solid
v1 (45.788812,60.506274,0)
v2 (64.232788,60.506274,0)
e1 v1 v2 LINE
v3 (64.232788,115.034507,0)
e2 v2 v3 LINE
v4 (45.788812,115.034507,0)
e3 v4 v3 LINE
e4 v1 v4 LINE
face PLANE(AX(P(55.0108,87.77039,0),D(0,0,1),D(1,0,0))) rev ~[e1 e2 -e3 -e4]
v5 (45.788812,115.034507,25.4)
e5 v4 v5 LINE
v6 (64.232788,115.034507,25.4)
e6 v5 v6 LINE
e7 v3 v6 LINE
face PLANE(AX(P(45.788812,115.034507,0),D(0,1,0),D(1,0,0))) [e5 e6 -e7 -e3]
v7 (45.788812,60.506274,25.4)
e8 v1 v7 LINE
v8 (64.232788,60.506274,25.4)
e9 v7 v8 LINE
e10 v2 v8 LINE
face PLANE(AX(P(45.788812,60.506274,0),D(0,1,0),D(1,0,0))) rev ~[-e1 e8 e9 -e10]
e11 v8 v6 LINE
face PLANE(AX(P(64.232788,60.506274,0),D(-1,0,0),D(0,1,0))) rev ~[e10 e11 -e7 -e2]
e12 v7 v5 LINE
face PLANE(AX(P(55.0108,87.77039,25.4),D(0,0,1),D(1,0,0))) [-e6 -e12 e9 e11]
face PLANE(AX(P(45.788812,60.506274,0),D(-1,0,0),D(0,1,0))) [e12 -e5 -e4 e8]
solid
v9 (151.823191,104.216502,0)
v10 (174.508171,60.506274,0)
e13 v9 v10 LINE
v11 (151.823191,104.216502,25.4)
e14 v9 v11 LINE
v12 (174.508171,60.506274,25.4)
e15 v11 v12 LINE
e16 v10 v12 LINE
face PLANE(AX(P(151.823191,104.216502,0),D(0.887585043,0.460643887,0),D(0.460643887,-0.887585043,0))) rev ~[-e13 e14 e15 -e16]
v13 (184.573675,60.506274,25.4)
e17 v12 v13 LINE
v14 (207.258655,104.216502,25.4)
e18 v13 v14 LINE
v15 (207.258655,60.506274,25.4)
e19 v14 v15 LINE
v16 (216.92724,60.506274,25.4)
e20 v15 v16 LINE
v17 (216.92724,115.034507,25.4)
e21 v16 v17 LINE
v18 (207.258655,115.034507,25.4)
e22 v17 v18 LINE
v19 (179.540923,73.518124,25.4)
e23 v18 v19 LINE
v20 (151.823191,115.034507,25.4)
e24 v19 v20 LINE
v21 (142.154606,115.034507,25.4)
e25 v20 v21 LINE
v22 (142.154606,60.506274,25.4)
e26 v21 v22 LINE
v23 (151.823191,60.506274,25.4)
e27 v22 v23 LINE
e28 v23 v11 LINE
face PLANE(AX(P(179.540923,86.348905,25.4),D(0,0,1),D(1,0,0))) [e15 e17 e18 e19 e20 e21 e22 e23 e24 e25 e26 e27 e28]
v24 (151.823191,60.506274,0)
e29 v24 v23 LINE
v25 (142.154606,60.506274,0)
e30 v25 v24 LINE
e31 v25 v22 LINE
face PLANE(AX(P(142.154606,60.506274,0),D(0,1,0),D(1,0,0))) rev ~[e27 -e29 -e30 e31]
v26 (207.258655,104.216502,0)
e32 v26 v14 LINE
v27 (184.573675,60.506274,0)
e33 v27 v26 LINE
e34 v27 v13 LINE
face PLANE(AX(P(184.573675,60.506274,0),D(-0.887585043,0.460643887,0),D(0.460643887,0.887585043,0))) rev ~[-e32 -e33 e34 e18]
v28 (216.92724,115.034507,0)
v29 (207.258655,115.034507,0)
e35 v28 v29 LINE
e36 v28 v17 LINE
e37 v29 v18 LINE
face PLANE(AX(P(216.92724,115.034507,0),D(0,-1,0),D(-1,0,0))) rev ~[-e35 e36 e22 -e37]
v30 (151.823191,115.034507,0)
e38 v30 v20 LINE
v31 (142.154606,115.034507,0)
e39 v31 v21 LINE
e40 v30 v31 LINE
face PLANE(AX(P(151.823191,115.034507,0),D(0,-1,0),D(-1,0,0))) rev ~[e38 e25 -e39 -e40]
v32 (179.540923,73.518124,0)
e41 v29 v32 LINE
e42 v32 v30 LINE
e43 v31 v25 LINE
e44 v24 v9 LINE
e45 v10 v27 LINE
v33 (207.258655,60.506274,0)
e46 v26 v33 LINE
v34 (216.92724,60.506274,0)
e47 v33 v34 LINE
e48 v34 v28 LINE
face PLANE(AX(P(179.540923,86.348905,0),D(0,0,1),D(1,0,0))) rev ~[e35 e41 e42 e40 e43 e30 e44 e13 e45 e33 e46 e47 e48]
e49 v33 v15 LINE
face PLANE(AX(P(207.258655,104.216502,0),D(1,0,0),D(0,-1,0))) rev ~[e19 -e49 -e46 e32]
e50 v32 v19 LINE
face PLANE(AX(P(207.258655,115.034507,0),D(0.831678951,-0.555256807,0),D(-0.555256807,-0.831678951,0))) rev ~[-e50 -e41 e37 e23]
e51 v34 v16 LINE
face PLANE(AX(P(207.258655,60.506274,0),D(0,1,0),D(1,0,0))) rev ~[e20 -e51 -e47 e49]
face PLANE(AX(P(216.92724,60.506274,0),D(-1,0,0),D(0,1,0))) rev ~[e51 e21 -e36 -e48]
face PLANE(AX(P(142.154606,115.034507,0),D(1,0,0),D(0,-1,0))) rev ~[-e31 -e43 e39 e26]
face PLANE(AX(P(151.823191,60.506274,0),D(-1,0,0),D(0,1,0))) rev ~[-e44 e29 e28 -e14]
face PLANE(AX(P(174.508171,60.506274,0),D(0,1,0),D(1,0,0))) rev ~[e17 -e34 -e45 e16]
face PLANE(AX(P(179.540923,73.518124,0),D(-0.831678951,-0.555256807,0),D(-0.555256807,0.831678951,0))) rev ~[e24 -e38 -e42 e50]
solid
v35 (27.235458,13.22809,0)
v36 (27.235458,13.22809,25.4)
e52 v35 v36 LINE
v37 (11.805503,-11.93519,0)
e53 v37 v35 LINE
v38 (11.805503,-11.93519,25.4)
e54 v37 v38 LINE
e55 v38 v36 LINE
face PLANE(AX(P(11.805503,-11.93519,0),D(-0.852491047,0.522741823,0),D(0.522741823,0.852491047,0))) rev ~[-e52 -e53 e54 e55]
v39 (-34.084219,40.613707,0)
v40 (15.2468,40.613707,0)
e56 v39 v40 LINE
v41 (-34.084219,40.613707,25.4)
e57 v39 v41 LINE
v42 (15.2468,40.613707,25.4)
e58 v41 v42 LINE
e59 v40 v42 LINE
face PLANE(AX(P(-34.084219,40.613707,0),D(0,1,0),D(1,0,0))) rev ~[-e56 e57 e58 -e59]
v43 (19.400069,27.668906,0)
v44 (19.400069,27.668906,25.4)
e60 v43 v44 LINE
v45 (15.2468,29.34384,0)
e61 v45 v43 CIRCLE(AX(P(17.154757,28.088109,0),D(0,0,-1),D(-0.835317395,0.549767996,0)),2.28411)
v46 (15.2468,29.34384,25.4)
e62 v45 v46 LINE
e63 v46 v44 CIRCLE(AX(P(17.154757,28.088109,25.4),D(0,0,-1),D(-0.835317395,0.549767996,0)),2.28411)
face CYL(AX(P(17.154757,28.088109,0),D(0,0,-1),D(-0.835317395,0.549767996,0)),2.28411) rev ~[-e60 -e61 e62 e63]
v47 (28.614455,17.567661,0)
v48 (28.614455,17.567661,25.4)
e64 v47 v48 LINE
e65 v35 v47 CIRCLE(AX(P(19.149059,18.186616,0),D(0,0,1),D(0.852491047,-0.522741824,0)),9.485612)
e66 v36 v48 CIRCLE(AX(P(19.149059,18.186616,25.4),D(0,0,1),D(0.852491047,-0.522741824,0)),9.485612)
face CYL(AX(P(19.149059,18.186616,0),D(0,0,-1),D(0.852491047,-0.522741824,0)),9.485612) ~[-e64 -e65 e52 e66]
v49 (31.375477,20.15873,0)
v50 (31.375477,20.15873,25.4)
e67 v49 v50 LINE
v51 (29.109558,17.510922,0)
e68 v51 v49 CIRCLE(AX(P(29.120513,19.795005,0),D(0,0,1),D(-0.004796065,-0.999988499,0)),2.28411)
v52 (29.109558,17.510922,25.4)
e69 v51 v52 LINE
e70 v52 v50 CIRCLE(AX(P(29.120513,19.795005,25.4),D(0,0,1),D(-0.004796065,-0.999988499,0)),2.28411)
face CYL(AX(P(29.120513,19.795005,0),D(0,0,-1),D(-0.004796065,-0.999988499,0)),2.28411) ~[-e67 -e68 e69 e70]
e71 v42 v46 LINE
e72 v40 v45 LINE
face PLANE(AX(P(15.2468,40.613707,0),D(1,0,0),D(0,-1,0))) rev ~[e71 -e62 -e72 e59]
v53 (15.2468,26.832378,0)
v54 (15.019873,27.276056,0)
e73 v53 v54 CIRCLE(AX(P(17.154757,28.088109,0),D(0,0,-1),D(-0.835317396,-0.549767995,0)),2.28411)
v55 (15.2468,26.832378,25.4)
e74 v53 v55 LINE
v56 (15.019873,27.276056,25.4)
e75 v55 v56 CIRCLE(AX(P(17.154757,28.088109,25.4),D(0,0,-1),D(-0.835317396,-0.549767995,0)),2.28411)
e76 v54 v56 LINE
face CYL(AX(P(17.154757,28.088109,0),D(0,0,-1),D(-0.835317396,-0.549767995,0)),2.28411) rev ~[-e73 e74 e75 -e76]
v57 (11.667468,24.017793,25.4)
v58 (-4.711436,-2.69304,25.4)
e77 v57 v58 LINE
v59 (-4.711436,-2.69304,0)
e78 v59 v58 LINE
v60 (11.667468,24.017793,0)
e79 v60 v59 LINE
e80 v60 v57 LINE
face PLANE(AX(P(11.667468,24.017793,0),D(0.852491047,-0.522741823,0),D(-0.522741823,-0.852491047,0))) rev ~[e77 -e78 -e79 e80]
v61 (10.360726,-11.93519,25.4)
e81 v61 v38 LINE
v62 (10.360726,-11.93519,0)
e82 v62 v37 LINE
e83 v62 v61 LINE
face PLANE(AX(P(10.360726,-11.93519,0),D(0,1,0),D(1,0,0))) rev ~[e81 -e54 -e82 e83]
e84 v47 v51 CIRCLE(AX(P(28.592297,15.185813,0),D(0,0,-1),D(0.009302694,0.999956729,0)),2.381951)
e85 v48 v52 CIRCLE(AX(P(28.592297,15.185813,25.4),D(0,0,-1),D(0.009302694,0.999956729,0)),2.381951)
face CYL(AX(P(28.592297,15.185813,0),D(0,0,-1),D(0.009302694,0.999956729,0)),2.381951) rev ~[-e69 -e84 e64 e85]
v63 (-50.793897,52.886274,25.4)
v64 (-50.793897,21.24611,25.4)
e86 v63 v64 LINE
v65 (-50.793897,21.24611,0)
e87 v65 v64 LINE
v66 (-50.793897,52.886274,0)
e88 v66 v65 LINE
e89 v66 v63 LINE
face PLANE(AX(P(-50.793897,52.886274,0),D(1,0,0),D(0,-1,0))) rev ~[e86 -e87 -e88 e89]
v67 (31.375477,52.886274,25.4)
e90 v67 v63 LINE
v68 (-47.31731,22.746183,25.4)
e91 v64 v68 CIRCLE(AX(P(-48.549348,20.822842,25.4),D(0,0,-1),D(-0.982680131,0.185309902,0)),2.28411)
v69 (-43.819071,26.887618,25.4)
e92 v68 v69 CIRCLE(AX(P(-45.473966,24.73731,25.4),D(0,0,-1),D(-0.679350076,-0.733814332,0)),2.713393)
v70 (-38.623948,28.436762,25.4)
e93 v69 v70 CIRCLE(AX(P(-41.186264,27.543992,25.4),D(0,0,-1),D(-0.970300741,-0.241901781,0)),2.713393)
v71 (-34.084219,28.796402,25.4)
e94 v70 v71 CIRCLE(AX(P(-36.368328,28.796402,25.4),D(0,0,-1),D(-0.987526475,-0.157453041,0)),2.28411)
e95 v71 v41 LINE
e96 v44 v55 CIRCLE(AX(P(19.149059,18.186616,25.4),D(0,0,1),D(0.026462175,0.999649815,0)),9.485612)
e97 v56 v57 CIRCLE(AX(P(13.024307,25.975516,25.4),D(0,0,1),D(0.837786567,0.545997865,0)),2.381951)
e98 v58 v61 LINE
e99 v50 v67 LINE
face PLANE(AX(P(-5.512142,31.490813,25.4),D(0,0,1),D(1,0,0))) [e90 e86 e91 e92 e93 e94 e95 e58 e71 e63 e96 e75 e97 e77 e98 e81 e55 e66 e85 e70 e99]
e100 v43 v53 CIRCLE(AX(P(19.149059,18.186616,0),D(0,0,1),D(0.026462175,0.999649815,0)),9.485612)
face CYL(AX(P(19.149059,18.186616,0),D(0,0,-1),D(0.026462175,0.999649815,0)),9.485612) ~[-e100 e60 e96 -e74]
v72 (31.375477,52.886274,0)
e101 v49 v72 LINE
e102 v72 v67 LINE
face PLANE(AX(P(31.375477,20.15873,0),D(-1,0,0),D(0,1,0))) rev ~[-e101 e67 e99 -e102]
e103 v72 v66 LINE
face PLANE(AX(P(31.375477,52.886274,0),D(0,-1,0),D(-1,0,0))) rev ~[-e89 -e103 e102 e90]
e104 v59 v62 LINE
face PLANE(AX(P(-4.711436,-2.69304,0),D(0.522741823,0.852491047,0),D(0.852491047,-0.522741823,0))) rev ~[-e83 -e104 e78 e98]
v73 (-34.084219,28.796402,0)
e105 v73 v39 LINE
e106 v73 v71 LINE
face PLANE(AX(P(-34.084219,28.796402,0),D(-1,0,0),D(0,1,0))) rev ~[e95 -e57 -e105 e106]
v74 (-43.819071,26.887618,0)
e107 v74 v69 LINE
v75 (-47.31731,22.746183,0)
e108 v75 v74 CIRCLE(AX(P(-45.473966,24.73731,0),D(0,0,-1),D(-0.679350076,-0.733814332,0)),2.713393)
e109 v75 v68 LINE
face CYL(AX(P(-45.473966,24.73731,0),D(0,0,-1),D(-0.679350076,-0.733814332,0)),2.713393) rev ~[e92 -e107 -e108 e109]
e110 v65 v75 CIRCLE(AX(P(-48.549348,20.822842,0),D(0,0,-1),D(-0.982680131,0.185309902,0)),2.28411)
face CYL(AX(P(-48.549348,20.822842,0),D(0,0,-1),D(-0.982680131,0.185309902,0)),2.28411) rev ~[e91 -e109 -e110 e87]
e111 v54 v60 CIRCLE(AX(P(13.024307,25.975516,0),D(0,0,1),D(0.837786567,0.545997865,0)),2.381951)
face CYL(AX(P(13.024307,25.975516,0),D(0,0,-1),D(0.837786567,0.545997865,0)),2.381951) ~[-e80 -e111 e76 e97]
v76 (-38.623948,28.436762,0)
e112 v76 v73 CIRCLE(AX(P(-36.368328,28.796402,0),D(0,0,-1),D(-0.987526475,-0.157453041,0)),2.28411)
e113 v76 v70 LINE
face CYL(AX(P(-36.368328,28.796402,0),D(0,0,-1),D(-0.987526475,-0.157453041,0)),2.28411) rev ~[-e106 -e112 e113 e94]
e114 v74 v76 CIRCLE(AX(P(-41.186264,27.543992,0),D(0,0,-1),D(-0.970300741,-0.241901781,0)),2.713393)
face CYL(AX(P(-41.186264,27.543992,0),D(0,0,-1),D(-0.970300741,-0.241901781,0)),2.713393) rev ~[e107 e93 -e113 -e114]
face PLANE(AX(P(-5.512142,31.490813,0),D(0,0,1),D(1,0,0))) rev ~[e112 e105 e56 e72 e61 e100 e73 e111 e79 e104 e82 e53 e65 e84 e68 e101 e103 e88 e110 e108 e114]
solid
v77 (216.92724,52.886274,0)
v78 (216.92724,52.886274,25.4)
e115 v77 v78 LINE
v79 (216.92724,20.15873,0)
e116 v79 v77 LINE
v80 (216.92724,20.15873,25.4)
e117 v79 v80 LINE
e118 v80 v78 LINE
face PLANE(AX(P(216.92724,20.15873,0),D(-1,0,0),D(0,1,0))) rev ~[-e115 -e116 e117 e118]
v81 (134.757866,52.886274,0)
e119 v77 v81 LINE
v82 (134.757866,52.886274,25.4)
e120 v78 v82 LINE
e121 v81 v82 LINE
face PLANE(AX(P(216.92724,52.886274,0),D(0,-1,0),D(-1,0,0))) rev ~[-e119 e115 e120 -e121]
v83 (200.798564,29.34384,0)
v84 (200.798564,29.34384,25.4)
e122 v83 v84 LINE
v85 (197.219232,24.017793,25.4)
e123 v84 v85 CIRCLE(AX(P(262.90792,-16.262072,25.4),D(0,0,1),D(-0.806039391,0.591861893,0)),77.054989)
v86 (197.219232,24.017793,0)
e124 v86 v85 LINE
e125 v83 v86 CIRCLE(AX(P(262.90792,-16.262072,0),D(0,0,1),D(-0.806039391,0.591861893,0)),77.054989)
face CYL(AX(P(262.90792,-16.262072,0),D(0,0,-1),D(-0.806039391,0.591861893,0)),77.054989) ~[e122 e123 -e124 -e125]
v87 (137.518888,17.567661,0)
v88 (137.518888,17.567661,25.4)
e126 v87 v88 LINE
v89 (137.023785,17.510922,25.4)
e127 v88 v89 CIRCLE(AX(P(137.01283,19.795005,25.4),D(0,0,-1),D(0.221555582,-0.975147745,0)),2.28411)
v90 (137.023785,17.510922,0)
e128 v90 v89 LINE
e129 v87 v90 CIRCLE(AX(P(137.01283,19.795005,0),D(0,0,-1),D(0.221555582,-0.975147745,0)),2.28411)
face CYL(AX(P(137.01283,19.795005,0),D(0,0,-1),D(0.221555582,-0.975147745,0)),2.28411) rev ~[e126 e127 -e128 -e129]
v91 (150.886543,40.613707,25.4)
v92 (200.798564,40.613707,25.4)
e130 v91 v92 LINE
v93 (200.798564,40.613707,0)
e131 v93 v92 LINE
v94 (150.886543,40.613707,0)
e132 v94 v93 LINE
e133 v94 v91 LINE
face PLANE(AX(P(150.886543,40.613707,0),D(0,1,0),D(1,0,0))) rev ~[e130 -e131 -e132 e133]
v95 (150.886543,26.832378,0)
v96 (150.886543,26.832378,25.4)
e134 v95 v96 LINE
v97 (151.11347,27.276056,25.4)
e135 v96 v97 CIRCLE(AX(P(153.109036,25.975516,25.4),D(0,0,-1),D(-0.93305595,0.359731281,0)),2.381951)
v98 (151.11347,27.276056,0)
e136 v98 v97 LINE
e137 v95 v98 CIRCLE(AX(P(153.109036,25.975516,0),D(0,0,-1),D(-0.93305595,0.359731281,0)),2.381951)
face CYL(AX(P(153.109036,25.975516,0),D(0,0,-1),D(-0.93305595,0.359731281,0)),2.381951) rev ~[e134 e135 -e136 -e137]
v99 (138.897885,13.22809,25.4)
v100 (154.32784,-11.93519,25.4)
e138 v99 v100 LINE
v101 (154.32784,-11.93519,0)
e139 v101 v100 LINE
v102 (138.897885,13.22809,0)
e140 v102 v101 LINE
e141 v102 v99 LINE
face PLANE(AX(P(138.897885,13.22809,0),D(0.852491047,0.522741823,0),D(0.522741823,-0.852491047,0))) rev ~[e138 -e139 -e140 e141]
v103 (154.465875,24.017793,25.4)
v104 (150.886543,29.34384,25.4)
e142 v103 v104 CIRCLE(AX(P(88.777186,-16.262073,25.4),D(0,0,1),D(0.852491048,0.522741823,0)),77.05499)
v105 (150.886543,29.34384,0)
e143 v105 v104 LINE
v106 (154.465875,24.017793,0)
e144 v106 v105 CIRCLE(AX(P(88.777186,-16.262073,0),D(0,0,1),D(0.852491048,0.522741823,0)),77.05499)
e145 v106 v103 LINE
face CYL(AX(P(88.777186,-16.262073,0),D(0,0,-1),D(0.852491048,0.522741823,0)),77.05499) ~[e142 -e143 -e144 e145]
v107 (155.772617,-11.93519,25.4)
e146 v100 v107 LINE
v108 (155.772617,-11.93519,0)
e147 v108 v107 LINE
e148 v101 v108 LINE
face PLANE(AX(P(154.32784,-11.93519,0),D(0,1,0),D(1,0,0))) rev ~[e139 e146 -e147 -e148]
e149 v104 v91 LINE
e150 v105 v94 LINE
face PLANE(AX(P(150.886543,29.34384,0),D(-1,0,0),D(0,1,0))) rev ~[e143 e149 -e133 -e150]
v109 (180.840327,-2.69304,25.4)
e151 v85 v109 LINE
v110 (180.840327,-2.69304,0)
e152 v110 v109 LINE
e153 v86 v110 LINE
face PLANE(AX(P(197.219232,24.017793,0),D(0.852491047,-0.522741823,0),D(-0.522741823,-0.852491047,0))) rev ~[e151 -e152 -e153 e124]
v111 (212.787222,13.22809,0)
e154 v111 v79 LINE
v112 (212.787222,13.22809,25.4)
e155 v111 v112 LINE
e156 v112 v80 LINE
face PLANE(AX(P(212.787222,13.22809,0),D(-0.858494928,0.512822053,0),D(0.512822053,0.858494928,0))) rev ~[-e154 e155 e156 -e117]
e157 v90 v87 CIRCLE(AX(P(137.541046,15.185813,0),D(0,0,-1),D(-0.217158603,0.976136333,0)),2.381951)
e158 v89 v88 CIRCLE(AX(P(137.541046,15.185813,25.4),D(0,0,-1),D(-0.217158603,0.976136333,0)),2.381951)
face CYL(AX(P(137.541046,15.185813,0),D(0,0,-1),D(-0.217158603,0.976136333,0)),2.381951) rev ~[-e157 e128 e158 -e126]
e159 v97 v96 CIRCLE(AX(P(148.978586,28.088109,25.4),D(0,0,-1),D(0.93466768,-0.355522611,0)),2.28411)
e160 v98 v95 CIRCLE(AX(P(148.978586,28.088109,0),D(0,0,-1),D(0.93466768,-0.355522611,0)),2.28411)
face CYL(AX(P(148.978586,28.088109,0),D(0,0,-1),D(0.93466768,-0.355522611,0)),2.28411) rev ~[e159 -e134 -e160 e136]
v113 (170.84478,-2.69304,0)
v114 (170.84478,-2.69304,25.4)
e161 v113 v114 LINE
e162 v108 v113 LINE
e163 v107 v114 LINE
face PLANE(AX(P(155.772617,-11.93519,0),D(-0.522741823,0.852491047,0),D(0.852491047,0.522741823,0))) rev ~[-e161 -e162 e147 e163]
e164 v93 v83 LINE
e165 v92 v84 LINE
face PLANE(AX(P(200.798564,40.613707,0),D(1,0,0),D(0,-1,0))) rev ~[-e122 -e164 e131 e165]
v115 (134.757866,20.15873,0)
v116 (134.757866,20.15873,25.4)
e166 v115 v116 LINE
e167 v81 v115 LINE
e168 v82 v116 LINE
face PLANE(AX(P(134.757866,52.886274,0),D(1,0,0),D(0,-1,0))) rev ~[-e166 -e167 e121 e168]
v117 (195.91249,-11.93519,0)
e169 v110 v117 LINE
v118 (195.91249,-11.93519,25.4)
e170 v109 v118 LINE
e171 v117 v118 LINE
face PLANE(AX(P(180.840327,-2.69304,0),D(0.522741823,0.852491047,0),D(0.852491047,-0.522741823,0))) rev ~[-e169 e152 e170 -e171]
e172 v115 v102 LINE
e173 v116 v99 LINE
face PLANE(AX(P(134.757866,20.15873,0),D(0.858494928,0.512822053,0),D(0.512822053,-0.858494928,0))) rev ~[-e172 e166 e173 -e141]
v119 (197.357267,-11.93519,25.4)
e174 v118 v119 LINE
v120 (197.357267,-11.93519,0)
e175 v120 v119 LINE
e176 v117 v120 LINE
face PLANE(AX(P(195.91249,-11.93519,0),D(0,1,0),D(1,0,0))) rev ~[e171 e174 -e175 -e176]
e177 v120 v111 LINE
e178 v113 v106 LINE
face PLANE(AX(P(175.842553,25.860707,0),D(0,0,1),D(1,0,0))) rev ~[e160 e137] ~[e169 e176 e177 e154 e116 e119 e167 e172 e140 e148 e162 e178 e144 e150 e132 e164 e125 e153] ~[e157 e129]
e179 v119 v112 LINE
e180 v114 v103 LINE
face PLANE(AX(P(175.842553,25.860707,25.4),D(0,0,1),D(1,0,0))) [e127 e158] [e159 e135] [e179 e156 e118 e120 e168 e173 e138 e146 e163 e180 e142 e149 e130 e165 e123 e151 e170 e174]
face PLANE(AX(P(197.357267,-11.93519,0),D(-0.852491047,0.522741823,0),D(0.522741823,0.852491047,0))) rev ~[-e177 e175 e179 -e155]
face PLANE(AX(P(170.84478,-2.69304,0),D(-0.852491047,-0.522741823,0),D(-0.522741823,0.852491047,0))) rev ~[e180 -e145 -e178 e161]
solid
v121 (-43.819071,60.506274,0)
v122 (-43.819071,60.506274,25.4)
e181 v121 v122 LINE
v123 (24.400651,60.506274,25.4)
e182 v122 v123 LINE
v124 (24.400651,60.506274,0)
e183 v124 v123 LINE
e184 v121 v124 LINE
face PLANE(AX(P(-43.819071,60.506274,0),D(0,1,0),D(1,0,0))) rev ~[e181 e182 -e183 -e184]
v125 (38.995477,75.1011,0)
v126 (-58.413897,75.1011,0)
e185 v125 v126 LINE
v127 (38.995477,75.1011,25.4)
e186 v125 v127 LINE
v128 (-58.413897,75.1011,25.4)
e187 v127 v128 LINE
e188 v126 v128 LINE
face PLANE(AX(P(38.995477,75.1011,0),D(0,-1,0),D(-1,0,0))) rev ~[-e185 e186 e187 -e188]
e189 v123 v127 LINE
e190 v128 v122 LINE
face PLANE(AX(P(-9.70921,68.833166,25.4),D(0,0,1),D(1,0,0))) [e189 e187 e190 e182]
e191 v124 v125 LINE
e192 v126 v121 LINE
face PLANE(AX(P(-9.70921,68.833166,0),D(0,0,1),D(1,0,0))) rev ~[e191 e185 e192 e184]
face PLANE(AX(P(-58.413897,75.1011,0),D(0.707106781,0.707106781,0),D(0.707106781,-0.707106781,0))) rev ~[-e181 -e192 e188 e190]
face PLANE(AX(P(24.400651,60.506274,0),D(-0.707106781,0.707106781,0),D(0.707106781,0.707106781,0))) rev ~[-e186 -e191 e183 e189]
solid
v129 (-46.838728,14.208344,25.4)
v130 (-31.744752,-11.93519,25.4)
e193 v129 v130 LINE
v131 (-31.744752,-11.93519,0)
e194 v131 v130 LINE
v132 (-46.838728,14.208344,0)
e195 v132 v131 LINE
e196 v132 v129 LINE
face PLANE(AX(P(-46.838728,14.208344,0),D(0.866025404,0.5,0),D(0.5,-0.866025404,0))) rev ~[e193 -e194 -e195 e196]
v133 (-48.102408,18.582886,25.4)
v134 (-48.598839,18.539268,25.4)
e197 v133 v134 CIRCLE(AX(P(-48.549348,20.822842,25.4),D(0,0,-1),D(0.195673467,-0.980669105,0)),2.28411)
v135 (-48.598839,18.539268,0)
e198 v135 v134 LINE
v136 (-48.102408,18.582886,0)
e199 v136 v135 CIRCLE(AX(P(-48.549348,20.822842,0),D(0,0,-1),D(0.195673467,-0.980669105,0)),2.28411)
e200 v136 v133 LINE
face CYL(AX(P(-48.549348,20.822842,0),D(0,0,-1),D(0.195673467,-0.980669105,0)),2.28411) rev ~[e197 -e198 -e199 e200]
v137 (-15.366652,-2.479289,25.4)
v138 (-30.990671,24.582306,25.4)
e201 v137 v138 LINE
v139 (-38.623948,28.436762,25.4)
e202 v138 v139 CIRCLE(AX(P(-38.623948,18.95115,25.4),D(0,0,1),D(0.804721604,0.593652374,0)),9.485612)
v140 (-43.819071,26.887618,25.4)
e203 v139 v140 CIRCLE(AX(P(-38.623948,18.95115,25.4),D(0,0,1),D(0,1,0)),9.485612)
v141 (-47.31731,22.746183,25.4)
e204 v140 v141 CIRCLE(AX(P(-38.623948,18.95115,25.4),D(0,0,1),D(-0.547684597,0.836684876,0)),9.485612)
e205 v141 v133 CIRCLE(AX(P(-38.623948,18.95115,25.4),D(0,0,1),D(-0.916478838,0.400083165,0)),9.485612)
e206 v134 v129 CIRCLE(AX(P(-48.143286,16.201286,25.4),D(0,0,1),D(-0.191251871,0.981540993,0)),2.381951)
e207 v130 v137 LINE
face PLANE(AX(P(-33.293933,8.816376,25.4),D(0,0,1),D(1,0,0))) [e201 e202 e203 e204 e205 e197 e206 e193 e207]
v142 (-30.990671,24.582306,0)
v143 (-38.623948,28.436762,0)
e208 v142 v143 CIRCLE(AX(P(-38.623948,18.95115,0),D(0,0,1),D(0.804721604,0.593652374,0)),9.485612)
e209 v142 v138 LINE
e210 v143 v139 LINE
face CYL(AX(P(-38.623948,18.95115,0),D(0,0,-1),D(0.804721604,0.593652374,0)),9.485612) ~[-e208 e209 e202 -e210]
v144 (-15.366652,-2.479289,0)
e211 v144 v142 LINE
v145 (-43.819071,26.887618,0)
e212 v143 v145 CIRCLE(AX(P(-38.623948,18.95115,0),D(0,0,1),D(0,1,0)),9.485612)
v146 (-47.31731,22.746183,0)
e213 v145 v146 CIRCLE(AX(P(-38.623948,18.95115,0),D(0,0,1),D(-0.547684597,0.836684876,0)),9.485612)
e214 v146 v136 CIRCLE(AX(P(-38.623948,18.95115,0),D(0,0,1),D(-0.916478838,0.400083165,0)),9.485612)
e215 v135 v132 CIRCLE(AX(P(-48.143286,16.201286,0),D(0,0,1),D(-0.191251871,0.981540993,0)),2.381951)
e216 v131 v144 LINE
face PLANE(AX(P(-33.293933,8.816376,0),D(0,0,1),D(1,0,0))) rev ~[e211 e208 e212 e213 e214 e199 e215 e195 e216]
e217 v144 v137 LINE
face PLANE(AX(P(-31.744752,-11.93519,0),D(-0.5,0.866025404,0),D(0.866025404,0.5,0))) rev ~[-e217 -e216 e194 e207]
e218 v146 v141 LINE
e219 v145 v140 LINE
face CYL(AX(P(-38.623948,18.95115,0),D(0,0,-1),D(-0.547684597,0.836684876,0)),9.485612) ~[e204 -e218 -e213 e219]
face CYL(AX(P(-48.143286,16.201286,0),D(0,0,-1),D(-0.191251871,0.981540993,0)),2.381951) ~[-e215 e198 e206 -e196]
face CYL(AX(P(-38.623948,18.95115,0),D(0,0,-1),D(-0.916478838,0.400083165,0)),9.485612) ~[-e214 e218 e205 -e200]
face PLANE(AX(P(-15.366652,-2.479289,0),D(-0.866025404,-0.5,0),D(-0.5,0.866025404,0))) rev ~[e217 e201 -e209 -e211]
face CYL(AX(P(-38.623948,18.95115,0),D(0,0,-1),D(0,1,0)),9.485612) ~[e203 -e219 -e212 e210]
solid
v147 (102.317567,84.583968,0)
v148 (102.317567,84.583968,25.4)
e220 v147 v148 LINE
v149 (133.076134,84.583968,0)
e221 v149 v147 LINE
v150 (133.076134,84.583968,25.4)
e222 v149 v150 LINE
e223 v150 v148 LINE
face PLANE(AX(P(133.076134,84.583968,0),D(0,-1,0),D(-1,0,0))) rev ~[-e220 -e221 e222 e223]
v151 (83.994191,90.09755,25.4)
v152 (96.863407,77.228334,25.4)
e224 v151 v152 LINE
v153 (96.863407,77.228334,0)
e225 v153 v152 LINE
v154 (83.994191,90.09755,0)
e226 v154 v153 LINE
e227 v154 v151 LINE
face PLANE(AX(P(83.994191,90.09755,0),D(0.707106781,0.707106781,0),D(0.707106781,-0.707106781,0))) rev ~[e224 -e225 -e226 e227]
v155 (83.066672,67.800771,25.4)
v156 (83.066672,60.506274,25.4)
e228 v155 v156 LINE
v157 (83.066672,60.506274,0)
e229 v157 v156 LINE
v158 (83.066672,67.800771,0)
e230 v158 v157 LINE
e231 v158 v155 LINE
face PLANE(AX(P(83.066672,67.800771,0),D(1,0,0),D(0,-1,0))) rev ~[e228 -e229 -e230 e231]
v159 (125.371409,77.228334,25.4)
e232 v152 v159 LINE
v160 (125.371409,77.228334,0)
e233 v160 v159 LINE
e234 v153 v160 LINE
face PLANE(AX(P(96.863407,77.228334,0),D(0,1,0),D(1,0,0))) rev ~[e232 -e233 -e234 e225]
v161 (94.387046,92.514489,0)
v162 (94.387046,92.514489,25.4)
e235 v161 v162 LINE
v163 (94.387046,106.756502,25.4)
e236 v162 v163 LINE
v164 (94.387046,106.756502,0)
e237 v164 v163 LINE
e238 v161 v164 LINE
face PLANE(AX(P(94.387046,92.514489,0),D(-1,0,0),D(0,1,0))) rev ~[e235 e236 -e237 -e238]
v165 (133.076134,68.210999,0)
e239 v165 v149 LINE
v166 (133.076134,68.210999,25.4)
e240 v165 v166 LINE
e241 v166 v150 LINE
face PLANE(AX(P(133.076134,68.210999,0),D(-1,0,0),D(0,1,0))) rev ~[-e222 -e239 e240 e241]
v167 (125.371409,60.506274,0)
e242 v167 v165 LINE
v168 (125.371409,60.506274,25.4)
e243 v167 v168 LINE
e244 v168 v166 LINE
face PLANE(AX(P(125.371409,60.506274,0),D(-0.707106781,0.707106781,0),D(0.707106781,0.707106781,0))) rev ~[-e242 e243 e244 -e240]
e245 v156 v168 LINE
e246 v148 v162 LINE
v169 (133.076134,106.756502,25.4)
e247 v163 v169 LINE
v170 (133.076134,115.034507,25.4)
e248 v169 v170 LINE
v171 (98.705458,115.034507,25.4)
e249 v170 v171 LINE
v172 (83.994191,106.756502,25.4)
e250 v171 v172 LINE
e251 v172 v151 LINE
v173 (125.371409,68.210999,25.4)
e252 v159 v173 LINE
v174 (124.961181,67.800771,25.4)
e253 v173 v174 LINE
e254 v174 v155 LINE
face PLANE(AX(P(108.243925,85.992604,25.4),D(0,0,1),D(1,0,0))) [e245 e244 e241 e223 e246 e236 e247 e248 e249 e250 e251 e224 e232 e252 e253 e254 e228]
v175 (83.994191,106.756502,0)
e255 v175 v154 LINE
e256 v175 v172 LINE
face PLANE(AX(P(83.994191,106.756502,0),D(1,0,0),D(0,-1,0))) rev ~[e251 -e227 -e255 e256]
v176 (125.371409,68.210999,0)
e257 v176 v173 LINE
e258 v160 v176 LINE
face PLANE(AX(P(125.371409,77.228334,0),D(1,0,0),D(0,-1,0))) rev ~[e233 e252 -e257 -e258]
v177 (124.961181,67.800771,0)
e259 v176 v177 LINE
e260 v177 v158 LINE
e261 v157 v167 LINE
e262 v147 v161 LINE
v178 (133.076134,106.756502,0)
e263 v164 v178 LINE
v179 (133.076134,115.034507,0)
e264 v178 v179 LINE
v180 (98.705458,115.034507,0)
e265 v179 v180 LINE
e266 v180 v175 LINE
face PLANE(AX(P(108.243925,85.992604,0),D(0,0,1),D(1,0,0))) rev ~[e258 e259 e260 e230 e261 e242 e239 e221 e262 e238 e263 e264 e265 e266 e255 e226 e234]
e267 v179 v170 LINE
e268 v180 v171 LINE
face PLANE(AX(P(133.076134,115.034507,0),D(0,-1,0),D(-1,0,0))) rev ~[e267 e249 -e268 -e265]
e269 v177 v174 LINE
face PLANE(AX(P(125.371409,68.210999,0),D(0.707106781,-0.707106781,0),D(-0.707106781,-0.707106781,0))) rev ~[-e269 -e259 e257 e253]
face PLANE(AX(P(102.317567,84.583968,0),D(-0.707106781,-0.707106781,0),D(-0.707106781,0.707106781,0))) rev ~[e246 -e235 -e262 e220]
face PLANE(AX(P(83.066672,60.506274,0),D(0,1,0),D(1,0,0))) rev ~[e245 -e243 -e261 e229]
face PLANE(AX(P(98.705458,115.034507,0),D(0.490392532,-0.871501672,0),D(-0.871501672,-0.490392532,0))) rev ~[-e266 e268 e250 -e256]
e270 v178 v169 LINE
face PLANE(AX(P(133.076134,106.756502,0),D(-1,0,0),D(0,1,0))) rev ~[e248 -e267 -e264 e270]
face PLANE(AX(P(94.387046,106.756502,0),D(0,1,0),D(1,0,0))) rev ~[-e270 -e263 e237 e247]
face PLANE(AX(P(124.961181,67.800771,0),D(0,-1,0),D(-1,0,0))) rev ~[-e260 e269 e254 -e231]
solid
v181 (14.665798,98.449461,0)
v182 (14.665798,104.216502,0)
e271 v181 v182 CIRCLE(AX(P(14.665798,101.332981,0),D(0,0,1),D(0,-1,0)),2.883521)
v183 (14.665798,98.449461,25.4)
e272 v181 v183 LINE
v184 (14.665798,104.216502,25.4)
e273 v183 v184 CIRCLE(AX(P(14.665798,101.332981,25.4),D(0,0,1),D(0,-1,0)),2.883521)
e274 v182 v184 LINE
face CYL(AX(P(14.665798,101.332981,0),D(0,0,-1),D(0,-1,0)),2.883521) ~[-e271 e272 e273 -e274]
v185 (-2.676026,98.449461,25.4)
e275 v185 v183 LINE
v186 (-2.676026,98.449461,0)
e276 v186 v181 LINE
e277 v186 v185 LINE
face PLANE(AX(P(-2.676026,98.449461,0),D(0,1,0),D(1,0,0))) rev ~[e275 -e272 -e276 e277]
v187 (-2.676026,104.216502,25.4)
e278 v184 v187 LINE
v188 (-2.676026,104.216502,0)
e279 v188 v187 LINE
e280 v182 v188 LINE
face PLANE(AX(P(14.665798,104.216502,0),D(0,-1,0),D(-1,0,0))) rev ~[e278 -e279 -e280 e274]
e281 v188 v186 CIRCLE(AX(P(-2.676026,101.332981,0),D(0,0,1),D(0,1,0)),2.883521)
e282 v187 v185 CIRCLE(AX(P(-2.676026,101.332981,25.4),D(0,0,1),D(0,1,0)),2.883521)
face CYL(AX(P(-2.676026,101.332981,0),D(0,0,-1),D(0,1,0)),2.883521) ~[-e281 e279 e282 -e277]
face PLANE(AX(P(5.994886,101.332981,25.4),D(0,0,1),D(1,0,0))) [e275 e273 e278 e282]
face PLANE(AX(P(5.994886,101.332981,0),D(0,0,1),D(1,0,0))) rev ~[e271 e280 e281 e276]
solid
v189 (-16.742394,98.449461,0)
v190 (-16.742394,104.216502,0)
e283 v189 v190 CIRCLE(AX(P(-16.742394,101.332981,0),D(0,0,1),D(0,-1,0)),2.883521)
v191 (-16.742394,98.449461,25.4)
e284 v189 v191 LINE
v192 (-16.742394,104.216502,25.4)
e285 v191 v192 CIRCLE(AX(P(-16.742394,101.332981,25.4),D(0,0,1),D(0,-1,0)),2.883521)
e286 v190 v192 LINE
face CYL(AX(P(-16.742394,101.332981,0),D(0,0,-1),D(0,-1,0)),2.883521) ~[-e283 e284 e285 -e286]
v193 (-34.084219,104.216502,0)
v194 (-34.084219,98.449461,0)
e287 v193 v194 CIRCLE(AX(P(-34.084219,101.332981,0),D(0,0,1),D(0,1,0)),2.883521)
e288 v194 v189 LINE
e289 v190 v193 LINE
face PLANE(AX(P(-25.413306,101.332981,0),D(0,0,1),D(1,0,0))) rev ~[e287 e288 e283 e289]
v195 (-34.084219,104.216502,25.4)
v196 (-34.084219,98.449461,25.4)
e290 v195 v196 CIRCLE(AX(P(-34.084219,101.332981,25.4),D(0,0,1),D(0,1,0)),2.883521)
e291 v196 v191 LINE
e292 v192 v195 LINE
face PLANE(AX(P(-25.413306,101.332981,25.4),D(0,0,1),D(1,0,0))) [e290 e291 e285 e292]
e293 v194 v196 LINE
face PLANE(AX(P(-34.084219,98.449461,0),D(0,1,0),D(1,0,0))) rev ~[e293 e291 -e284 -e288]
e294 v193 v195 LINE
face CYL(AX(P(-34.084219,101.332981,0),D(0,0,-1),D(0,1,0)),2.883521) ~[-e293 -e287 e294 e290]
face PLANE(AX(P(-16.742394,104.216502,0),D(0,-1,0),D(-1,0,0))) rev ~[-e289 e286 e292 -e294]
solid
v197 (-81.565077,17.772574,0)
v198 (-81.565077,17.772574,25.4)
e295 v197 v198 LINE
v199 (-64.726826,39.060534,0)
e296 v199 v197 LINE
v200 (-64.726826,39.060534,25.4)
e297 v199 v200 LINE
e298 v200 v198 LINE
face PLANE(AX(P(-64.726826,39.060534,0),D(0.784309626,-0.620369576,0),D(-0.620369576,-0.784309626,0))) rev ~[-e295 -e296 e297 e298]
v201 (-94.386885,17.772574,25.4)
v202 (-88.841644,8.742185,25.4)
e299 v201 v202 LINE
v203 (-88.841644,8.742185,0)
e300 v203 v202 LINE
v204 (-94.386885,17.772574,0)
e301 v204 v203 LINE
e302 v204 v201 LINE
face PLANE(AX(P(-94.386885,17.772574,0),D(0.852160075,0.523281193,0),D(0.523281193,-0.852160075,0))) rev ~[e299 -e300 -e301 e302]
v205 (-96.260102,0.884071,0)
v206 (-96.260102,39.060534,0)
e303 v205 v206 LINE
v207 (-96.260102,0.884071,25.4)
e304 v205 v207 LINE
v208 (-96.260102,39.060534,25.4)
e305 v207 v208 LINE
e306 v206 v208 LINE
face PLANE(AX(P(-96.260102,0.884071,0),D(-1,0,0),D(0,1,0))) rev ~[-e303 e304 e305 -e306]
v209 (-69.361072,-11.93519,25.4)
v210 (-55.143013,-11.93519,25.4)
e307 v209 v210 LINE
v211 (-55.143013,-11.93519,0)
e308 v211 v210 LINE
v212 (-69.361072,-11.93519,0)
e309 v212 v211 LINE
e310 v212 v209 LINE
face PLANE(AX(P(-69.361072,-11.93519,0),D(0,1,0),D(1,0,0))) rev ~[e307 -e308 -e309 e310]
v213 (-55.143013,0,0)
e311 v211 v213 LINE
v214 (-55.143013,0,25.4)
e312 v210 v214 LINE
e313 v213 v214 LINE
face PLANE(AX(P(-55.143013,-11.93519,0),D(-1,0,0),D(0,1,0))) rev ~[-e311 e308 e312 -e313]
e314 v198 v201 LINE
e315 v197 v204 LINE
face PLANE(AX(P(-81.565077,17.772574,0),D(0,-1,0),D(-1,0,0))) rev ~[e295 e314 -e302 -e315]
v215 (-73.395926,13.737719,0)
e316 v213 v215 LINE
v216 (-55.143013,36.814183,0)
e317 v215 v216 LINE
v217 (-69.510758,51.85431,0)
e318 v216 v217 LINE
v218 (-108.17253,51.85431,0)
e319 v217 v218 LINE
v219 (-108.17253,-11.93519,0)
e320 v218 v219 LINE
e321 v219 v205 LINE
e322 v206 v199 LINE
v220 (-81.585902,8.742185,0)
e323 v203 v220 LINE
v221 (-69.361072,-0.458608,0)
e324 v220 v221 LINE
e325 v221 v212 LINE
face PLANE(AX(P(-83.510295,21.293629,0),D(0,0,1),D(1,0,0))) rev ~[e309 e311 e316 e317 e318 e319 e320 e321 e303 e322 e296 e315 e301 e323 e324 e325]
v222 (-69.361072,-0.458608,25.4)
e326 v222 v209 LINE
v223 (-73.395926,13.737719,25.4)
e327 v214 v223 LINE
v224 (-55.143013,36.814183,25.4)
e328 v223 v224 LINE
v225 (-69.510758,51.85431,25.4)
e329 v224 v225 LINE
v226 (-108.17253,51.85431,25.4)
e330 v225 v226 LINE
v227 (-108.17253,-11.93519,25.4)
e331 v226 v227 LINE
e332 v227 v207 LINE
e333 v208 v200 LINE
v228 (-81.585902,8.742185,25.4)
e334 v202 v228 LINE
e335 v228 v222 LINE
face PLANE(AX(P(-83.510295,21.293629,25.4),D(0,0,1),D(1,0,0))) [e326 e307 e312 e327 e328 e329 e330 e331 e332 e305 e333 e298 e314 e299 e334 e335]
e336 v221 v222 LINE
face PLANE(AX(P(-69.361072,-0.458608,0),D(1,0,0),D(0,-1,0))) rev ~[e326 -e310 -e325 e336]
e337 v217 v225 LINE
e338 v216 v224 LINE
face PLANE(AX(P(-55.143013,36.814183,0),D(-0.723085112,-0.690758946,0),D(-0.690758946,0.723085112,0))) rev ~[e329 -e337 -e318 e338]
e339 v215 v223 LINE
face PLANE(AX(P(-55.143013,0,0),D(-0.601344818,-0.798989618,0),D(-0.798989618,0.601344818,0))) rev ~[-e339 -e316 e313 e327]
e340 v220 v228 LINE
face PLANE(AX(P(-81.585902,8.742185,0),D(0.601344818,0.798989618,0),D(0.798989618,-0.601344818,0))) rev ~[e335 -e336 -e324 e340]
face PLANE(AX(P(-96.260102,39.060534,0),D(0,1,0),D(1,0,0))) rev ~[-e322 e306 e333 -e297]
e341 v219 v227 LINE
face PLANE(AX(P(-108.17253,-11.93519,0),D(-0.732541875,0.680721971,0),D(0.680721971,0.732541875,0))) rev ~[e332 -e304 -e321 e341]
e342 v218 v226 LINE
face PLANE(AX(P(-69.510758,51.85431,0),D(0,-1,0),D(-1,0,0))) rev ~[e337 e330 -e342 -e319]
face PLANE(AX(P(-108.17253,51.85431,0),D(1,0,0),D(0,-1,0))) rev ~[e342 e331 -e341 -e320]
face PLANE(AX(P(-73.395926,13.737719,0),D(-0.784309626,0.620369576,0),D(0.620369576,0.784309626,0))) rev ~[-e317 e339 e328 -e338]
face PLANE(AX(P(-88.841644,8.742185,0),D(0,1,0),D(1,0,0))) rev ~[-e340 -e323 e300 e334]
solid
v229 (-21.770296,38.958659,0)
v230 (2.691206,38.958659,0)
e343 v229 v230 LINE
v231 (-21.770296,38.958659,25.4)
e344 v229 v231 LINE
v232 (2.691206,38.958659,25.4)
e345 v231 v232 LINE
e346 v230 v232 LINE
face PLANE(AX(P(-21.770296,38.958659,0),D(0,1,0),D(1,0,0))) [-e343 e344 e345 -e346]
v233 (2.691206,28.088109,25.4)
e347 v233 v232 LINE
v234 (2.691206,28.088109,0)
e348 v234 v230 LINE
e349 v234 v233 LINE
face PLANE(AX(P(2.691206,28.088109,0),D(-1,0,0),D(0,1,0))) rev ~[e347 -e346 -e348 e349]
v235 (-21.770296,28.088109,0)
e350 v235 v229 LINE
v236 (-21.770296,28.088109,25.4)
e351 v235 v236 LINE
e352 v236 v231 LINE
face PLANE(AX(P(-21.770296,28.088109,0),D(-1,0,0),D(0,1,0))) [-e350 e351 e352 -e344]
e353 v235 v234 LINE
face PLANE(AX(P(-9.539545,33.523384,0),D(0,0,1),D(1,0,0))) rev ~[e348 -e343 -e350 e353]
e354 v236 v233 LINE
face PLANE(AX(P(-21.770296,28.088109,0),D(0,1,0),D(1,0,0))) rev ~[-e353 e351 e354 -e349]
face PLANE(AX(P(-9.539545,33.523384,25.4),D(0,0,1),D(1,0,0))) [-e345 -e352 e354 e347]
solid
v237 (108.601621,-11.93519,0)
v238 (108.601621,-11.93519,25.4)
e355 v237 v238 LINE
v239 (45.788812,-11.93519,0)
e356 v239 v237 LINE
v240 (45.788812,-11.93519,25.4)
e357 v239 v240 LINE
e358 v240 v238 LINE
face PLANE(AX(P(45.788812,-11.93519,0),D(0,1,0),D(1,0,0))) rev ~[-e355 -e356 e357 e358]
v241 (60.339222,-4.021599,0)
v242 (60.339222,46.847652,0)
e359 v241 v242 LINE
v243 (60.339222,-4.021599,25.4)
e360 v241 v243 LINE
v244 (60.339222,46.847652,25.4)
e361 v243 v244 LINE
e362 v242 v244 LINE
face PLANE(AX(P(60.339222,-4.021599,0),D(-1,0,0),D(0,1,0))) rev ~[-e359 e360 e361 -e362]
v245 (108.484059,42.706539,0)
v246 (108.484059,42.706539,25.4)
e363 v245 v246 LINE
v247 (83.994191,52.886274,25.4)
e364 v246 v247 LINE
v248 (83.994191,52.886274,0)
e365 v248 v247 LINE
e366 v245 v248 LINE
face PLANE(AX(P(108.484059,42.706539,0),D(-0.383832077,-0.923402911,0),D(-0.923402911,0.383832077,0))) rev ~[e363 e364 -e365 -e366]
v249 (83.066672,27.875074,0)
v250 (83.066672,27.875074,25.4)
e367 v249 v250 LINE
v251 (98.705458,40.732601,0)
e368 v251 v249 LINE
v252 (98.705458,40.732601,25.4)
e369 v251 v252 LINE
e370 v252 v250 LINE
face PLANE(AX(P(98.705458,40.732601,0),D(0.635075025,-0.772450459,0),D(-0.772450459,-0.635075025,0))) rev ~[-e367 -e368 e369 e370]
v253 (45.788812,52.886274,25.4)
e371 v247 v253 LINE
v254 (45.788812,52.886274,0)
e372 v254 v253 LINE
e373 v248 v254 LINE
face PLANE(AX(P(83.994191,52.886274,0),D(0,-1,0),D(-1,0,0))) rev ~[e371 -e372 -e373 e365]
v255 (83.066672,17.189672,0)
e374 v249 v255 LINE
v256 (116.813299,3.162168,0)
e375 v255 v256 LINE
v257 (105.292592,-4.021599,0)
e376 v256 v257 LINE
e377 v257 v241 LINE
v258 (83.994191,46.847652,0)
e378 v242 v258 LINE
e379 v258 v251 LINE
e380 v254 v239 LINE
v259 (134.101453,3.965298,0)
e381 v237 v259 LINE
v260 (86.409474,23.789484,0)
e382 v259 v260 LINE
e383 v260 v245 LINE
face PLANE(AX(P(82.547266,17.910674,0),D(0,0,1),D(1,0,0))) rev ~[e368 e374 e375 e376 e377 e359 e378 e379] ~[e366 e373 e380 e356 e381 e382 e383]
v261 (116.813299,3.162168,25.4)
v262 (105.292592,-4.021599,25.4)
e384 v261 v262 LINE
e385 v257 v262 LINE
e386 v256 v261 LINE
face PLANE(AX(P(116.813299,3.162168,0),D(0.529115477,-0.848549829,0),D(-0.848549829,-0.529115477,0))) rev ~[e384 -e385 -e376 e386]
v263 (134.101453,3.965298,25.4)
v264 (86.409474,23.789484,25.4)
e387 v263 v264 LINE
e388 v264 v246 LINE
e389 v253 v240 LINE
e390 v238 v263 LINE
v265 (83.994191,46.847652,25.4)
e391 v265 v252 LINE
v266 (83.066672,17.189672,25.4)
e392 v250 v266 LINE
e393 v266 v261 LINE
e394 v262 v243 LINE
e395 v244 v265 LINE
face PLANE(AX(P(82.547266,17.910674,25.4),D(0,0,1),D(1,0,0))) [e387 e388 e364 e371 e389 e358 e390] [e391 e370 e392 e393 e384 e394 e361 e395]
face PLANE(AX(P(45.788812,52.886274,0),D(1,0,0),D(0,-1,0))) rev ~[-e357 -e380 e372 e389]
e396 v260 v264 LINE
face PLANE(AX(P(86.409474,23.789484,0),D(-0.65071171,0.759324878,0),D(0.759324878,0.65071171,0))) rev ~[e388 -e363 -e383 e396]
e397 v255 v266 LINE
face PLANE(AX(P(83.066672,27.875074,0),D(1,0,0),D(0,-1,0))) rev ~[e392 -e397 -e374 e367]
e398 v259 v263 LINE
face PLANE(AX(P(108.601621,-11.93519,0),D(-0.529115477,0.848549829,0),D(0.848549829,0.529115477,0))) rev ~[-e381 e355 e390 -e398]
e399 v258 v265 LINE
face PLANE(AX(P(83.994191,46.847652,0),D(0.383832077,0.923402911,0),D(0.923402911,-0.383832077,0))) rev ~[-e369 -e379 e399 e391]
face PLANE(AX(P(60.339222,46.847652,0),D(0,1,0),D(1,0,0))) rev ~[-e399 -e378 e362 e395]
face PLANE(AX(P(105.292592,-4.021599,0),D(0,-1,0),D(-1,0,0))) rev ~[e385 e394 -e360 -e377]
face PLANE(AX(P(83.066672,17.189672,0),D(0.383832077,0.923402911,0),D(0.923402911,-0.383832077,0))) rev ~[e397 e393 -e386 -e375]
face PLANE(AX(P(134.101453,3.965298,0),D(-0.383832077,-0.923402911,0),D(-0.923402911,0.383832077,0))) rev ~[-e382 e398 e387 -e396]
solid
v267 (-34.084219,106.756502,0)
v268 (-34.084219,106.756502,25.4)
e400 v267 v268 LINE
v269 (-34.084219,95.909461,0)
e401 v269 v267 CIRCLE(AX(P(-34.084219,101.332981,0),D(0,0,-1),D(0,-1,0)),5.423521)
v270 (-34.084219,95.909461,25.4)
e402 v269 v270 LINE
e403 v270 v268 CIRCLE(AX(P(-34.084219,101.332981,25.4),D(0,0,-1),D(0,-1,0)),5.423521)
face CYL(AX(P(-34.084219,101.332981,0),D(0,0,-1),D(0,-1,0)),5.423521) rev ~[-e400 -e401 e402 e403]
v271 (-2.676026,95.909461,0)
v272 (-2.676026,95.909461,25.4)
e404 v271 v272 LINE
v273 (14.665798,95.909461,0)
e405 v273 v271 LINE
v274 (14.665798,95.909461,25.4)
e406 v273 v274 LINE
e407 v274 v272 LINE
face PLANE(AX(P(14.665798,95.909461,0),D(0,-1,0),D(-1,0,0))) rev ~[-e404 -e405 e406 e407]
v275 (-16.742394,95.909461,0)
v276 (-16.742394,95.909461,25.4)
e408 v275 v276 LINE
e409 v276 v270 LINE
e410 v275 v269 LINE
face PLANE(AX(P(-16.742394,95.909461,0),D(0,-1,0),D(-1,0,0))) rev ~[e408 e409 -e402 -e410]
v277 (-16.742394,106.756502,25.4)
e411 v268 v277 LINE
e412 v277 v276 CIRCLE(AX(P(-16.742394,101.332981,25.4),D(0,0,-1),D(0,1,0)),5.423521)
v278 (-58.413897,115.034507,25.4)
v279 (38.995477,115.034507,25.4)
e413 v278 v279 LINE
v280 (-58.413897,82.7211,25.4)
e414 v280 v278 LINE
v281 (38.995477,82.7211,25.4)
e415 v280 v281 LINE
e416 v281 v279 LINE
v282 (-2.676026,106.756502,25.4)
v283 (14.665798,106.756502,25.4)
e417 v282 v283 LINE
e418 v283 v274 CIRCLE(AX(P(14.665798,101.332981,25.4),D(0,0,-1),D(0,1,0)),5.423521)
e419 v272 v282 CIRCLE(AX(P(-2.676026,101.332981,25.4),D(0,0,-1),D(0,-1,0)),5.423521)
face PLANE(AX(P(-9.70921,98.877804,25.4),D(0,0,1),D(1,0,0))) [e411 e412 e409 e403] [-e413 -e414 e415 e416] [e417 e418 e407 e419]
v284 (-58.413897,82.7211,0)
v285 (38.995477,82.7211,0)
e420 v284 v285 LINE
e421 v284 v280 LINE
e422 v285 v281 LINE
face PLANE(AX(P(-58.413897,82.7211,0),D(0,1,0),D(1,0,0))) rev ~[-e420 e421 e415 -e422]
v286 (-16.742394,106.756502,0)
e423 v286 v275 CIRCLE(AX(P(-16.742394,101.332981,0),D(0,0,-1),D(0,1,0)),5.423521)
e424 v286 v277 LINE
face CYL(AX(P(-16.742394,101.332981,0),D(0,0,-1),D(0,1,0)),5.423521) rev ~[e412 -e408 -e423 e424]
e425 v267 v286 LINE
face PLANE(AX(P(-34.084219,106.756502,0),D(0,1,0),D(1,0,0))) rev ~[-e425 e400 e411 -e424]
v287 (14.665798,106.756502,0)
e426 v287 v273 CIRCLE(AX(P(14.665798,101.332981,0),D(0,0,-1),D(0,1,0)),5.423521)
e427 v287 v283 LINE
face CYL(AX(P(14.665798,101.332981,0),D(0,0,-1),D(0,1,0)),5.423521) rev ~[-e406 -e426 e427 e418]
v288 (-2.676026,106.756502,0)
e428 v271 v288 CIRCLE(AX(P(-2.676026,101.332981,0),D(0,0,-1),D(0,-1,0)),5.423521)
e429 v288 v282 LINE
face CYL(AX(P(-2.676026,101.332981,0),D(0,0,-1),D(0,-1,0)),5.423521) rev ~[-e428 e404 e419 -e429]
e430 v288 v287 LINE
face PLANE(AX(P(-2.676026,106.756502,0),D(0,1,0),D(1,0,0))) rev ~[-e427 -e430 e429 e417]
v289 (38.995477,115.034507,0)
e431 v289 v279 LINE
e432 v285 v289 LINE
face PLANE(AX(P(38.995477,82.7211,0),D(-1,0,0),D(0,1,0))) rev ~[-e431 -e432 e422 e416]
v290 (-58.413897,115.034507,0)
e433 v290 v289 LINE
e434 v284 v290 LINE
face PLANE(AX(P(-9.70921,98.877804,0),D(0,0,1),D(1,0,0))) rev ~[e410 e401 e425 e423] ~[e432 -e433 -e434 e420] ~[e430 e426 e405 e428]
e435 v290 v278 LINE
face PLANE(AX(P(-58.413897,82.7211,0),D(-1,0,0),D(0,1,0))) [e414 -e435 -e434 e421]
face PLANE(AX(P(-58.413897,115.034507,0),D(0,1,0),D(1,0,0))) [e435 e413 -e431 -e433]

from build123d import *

# Parameters (mm, degrees)
BOSS_EXTRUDE2_DEPTH    = 25.4
BOSS_EXTRUDE2_2_DEPTH  = 25.4
BOSS_EXTRUDE2_3_DEPTH  = 25.4
SKETCH1_W              = 24.461502648
SKETCH1_H              = 10.87055051
BOSS_EXTRUDE2_4_DEPTH  = 25.4
BOSS_EXTRUDE2_5_DEPTH  = 25.4
BOSS_EXTRUDE2_6_DEPTH  = 25.4
BOSS_EXTRUDE2_7_DEPTH  = 25.4
SKETCH1_W_2            = 97.40937404
SKETCH1_H_2            = 32.313406886
BOSS_EXTRUDE2_8_DEPTH  = 25.4
BOSS_EXTRUDE2_9_DEPTH  = 25.4
BOSS_EXTRUDE2_10_DEPTH = 25.4
SKETCH1_W_3            = 18.443976291
SKETCH1_H_3            = 54.528233079
BOSS_EXTRUDE2_11_DEPTH = 25.4
BOSS_EXTRUDE2_12_DEPTH = 25.4
BOSS_EXTRUDE2_13_DEPTH = 25.4


with BuildPart() as part:
    # Sketch1 → Boss-Extrude2 (new body)
    with BuildSketch(Plane.XY):
        Polygon((-108.172530118, -11.93518958), (-96.26010229, 0.884070844), (-96.26010229, 39.060533562), (-64.726825967, 39.060533562), (-81.565077277, 17.772573776), (-94.386884579, 17.772573776), (-88.841643973, 8.742184939), (-81.585901967, 8.742184939), (-69.36107171, -0.45860836), (-69.36107171, -11.93518958), (-55.143012689, -11.93518958), (-55.143012689, 0), (-73.395926297, 13.737719189), (-55.143012689, 36.814182636), (-69.510757828, 51.854310106), (-108.172530118, 51.854310106), align=None)
    extrude(amount=BOSS_EXTRUDE2_DEPTH)


with BuildPart() as body_2:
    # Sketch1 → Boss-Extrude2 2 (new body)
    with BuildSketch(Plane.XY):
        with BuildLine():
            Line((-46.838728316, 14.208343836), (-31.744752261, -11.93518958))
            Line((-31.744752261, -11.93518958), (-15.366651823, -2.479288883))
            Line((-15.366651823, -2.479288883), (-30.990670753, 24.582305721))
            ThreePointArc((-30.990670753, 24.582305721), (-34.348326386, 27.418492639), (-38.623947508, 28.436761569))
            ThreePointArc((-38.623947508, 28.436761569), (-41.334535763, 28.041229116), (-43.819070994, 26.887617701))
            ThreePointArc((-43.819070994, 26.887617701), (-45.870352162, 25.072134244), (-47.317310012, 22.746183344))
            ThreePointArc((-47.317310012, 22.746183344), (-47.945269778, 20.708927541), (-48.102408011, 18.58288609))
            ThreePointArc((-48.102408011, 18.58288609), (-48.349430213, 18.547497946), (-48.598838642, 18.539268436))
            ThreePointArc((-48.598838642, 18.539268436), (-50.349964463, 15.304480473), (-46.838728316, 14.208343836))
        make_face()
    extrude(amount=BOSS_EXTRUDE2_2_DEPTH)


with BuildPart() as body_3:
    # Sketch1 → Boss-Extrude2 3 (new body)
    with BuildSketch(Plane.XY):
        with BuildLine():
            ThreePointArc((27.235458411, 13.228090155), (28.189211283, 15.313902664), (28.614455488, 17.567660798))
            ThreePointArc((28.614455488, 17.567660798), (28.863494696, 17.552274854), (29.109558058, 17.510921785))
            ThreePointArc((29.109558058, 17.510921785), (30.855913684, 18.309898726), (31.375476852, 20.158729772))
            Line((31.375476852, 20.158729772), (31.375476852, 52.886273929))
            Line((31.375476852, 52.886273929), (-50.793897188, 52.886273929))
            Line((-50.793897188, 52.886273929), (-50.793897188, 21.246110341))
            ThreePointArc((-50.793897188, 21.246110341), (-49.454250903, 22.920056612), (-47.317310012, 22.746183344))
            ThreePointArc((-47.317310012, 22.746183344), (-47.546826095, 26.488239395), (-43.819070994, 26.887617701))
            ThreePointArc((-43.819070994, 26.887617701), (-41.96163717, 30.144241829), (-38.623947508, 28.436761569))
            ThreePointArc((-38.623947508, 28.436761569), (-36.548711873, 31.073377711), (-34.08421851, 28.796401627))
            Line((-34.08421851, 28.796401627), (-34.08421851, 40.613707206))
            Line((-34.08421851, 40.613707206), (15.246800093, 40.613707206))
            Line((15.246800093, 40.613707206), (15.246800093, 29.343839534))
            ThreePointArc((15.246800093, 29.343839534), (18.009041678, 30.206446948), (19.400069174, 27.668906281))
            ThreePointArc((19.400069174, 27.668906281), (17.276133744, 27.485486089), (15.246800093, 26.832378436))
            ThreePointArc((15.246800093, 26.832378436), (15.121200281, 27.048010012), (15.019873113, 27.276056266))
            ThreePointArc((15.019873113, 27.276056266), (11.364167353, 27.683622468), (11.66746819, 24.017793311))
            Line((11.66746819, 24.017793311), (-4.711436484, -2.693039791))
            Line((-4.711436484, -2.693039791), (10.360726486, -11.93518958))
            Line((10.360726486, -11.93518958), (11.805503139, -11.93518958))
            Line((11.805503139, -11.93518958), (27.235458411, 13.228090155))
        make_face()
    extrude(amount=BOSS_EXTRUDE2_3_DEPTH)


with BuildPart() as body_4:
    # Sketch1 → Boss-Extrude2 4 (new body)
    with BuildSketch(Plane.XY):
        with Locations((-9.539545162, 33.52338424)):
            Rectangle(SKETCH1_W, SKETCH1_H)
    extrude(amount=BOSS_EXTRUDE2_4_DEPTH)


with BuildPart() as body_5:
    # Sketch1 → Boss-Extrude2 5 (new body)
    with BuildSketch(Plane.XY):
        Polygon((45.788811717, 52.886273929), (45.788811717, -11.93518958), (108.601620736, -11.93518958), (134.101452531, 3.965297599), (86.409473786, 23.78948382), (108.484058542, 42.706539224), (83.994191176, 52.886273929), align=None)
        Polygon((60.33922231, 46.847651943), (83.994191176, 46.847651943), (98.705457979, 40.732600726), (83.066671585, 27.87507369), (83.066671585, 17.189671733), (116.813298843, 3.162167722), (105.292592369, -4.021599098), (60.33922231, -4.021599098), align=None, mode=Mode.SUBTRACT)
    extrude(amount=BOSS_EXTRUDE2_5_DEPTH)


with BuildPart() as body_6:
    # Sketch1 → Boss-Extrude2 6 (new body)
    with BuildSketch(Plane.XY):
        with BuildLine():
            Line((134.757866317, 20.158729772), (138.897884758, 13.228090155))
            Line((138.897884758, 13.228090155), (154.327840031, -11.93518958))
            Line((154.327840031, -11.93518958), (155.772616684, -11.93518958))
            Line((155.772616684, -11.93518958), (170.844779653, -2.693039791))
            Line((170.844779653, -2.693039791), (154.46587498, 24.017793311))
            ThreePointArc((154.46587498, 24.017793311), (152.731676351, 26.718092847), (150.886543077, 29.343839534))
            Line((150.886543077, 29.343839534), (150.886543077, 40.613707206))
            Line((150.886543077, 40.613707206), (200.798563598, 40.613707206))
            Line((200.798563598, 40.613707206), (200.798563598, 29.343839534))
            ThreePointArc((200.798563598, 29.343839534), (198.953430323, 26.718092847), (197.219231694, 24.017793311))
            Line((197.219231694, 24.017793311), (180.840327021, -2.693039791))
            Line((180.840327021, -2.693039791), (195.91248999, -11.93518958))
            Line((195.91248999, -11.93518958), (197.357266644, -11.93518958))
            Line((197.357266644, -11.93518958), (212.787221916, 13.228090155))
            Line((212.787221916, 13.228090155), (216.927240357, 20.158729772))
            Line((216.927240357, 20.158729772), (216.927240357, 52.886273929))
            Line((216.927240357, 52.886273929), (134.757866317, 52.886273929))
            Line((134.757866317, 52.886273929), (134.757866317, 20.158729772))
        make_face()
        with BuildLine():
            ThreePointArc((137.518887681, 17.567660798), (137.27288843, 17.525748302), (137.023785111, 17.510921785))
            ThreePointArc((137.023785111, 17.510921785), (137.269848473, 17.552274854), (137.518887681, 17.567660798))
        make_face(mode=Mode.SUBTRACT)
        with BuildLine():
            ThreePointArc((151.113470057, 27.276056266), (151.012142888, 27.048010012), (150.886543077, 26.832378436))
            ThreePointArc((150.886543077, 26.832378436), (150.988371565, 27.060168281), (151.113470057, 27.276056266))
        make_face(mode=Mode.SUBTRACT)
    extrude(amount=BOSS_EXTRUDE2_6_DEPTH)


with BuildPart() as body_7:
    # Sketch1 → Boss-Extrude2 7 (new body)
    with BuildSketch(Plane.XY):
        Polygon((-58.413897188, 75.101100122), (-43.819070994, 60.506273929), (24.400650659, 60.506273929), (38.995476852, 75.101100122), align=None)
    extrude(amount=BOSS_EXTRUDE2_7_DEPTH)


with BuildPart() as body_8:
    # Sketch1 → Boss-Extrude2 8 (new body)
    with BuildSketch(Plane.XY):
        with Locations((-9.709210168, 98.877803565)):
            Rectangle(SKETCH1_W_2, SKETCH1_H_2)
        with BuildLine():
            ThreePointArc((-34.08421851, 95.909460513), (-39.507739158, 101.332981161), (-34.08421851, 106.756501809))
            Line((-34.08421851, 106.756501809), (-16.742394345, 106.756501809))
            ThreePointArc((-16.742394345, 106.756501809), (-11.318873697, 101.332981161), (-16.742394345, 95.909460513))
            Line((-16.742394345, 95.909460513), (-34.08421851, 95.909460513))
        make_face(mode=Mode.SUBTRACT)
        with BuildLine():
            ThreePointArc((14.665798175, 106.756501809), (20.089318823, 101.332981161), (14.665798175, 95.909460513))
            Line((14.665798175, 95.909460513), (-2.67602599, 95.909460513))
            ThreePointArc((-2.67602599, 95.909460513), (-8.099546638, 101.332981161), (-2.67602599, 106.756501809))
            Line((-2.67602599, 106.756501809), (14.665798175, 106.756501809))
        make_face(mode=Mode.SUBTRACT)
    extrude(amount=BOSS_EXTRUDE2_8_DEPTH)


with BuildPart() as body_9:
    # Sketch1 → Boss-Extrude2 9 (new body)
    with BuildSketch(Plane.XY):
        with BuildLine():
            Line((-16.742394345, 104.216501809), (-34.08421851, 104.216501809))
            ThreePointArc((-34.08421851, 104.216501809), (-36.967739158, 101.332981161), (-34.08421851, 98.449460513))
            Line((-34.08421851, 98.449460513), (-16.742394345, 98.449460513))
            ThreePointArc((-16.742394345, 98.449460513), (-13.858873697, 101.332981161), (-16.742394345, 104.216501809))
        make_face()
    extrude(amount=BOSS_EXTRUDE2_9_DEPTH)


with BuildPart() as body_10:
    # Sketch1 → Boss-Extrude2 10 (new body)
    with BuildSketch(Plane.XY):
        with BuildLine():
            ThreePointArc((14.665798175, 98.449460513), (17.549318823, 101.332981161), (14.665798175, 104.216501809))
            Line((14.665798175, 104.216501809), (-2.67602599, 104.216501809))
            ThreePointArc((-2.67602599, 104.216501809), (-5.559546638, 101.332981161), (-2.67602599, 98.449460513))
            Line((-2.67602599, 98.449460513), (14.665798175, 98.449460513))
        make_face()
    extrude(amount=BOSS_EXTRUDE2_10_DEPTH)


with BuildPart() as body_11:
    # Sketch1 → Boss-Extrude2 11 (new body)
    with BuildSketch(Plane.XY):
        with Locations((55.010799863, 87.770390469)):
            Rectangle(SKETCH1_W_3, SKETCH1_H_3)
    extrude(amount=BOSS_EXTRUDE2_11_DEPTH)


with BuildPart() as body_12:
    # Sketch1 → Boss-Extrude2 12 (new body)
    with BuildSketch(Plane.XY):
        Polygon((83.066671585, 67.800770925), (83.066671585, 60.506273929), (125.371409153, 60.506273929), (133.076133815, 68.210998592), (133.076133815, 84.583967788), (102.317567308, 84.583967788), (94.387045713, 92.514489383), (94.387045713, 106.756501809), (133.076133815, 106.756501809), (133.076133815, 115.034507008), (98.705457979, 115.034507008), (83.994191176, 106.756501809), (83.994191176, 90.097550177), (96.863406967, 77.228334386), (125.371409153, 77.228334386), (125.371409153, 68.210998592), (124.961181486, 67.800770925), align=None)
    extrude(amount=BOSS_EXTRUDE2_12_DEPTH)


with BuildPart() as body_13:
    # Sketch1 → Boss-Extrude2 13 (new body)
    with BuildSketch(Plane.XY):
        Polygon((142.154606016, 115.034507008), (142.154606016, 60.506273929), (151.823190987, 60.506273929), (151.823190987, 104.216501809), (174.508171362, 60.506273929), (184.573675011, 60.506273929), (207.258655386, 104.216501809), (207.258655386, 60.506273929), (216.927240357, 60.506273929), (216.927240357, 115.034507008), (207.258655386, 115.034507008), (179.540923187, 73.518123702), (151.823190987, 115.034507008), align=None)
    extrude(amount=BOSS_EXTRUDE2_13_DEPTH)


solid = Compound([part.part, body_2.part, body_3.part, body_4.part, body_5.part, body_6.part, body_7.part, body_8.part, body_9.part, body_10.part, body_11.part, body_12.part, body_13.part])
